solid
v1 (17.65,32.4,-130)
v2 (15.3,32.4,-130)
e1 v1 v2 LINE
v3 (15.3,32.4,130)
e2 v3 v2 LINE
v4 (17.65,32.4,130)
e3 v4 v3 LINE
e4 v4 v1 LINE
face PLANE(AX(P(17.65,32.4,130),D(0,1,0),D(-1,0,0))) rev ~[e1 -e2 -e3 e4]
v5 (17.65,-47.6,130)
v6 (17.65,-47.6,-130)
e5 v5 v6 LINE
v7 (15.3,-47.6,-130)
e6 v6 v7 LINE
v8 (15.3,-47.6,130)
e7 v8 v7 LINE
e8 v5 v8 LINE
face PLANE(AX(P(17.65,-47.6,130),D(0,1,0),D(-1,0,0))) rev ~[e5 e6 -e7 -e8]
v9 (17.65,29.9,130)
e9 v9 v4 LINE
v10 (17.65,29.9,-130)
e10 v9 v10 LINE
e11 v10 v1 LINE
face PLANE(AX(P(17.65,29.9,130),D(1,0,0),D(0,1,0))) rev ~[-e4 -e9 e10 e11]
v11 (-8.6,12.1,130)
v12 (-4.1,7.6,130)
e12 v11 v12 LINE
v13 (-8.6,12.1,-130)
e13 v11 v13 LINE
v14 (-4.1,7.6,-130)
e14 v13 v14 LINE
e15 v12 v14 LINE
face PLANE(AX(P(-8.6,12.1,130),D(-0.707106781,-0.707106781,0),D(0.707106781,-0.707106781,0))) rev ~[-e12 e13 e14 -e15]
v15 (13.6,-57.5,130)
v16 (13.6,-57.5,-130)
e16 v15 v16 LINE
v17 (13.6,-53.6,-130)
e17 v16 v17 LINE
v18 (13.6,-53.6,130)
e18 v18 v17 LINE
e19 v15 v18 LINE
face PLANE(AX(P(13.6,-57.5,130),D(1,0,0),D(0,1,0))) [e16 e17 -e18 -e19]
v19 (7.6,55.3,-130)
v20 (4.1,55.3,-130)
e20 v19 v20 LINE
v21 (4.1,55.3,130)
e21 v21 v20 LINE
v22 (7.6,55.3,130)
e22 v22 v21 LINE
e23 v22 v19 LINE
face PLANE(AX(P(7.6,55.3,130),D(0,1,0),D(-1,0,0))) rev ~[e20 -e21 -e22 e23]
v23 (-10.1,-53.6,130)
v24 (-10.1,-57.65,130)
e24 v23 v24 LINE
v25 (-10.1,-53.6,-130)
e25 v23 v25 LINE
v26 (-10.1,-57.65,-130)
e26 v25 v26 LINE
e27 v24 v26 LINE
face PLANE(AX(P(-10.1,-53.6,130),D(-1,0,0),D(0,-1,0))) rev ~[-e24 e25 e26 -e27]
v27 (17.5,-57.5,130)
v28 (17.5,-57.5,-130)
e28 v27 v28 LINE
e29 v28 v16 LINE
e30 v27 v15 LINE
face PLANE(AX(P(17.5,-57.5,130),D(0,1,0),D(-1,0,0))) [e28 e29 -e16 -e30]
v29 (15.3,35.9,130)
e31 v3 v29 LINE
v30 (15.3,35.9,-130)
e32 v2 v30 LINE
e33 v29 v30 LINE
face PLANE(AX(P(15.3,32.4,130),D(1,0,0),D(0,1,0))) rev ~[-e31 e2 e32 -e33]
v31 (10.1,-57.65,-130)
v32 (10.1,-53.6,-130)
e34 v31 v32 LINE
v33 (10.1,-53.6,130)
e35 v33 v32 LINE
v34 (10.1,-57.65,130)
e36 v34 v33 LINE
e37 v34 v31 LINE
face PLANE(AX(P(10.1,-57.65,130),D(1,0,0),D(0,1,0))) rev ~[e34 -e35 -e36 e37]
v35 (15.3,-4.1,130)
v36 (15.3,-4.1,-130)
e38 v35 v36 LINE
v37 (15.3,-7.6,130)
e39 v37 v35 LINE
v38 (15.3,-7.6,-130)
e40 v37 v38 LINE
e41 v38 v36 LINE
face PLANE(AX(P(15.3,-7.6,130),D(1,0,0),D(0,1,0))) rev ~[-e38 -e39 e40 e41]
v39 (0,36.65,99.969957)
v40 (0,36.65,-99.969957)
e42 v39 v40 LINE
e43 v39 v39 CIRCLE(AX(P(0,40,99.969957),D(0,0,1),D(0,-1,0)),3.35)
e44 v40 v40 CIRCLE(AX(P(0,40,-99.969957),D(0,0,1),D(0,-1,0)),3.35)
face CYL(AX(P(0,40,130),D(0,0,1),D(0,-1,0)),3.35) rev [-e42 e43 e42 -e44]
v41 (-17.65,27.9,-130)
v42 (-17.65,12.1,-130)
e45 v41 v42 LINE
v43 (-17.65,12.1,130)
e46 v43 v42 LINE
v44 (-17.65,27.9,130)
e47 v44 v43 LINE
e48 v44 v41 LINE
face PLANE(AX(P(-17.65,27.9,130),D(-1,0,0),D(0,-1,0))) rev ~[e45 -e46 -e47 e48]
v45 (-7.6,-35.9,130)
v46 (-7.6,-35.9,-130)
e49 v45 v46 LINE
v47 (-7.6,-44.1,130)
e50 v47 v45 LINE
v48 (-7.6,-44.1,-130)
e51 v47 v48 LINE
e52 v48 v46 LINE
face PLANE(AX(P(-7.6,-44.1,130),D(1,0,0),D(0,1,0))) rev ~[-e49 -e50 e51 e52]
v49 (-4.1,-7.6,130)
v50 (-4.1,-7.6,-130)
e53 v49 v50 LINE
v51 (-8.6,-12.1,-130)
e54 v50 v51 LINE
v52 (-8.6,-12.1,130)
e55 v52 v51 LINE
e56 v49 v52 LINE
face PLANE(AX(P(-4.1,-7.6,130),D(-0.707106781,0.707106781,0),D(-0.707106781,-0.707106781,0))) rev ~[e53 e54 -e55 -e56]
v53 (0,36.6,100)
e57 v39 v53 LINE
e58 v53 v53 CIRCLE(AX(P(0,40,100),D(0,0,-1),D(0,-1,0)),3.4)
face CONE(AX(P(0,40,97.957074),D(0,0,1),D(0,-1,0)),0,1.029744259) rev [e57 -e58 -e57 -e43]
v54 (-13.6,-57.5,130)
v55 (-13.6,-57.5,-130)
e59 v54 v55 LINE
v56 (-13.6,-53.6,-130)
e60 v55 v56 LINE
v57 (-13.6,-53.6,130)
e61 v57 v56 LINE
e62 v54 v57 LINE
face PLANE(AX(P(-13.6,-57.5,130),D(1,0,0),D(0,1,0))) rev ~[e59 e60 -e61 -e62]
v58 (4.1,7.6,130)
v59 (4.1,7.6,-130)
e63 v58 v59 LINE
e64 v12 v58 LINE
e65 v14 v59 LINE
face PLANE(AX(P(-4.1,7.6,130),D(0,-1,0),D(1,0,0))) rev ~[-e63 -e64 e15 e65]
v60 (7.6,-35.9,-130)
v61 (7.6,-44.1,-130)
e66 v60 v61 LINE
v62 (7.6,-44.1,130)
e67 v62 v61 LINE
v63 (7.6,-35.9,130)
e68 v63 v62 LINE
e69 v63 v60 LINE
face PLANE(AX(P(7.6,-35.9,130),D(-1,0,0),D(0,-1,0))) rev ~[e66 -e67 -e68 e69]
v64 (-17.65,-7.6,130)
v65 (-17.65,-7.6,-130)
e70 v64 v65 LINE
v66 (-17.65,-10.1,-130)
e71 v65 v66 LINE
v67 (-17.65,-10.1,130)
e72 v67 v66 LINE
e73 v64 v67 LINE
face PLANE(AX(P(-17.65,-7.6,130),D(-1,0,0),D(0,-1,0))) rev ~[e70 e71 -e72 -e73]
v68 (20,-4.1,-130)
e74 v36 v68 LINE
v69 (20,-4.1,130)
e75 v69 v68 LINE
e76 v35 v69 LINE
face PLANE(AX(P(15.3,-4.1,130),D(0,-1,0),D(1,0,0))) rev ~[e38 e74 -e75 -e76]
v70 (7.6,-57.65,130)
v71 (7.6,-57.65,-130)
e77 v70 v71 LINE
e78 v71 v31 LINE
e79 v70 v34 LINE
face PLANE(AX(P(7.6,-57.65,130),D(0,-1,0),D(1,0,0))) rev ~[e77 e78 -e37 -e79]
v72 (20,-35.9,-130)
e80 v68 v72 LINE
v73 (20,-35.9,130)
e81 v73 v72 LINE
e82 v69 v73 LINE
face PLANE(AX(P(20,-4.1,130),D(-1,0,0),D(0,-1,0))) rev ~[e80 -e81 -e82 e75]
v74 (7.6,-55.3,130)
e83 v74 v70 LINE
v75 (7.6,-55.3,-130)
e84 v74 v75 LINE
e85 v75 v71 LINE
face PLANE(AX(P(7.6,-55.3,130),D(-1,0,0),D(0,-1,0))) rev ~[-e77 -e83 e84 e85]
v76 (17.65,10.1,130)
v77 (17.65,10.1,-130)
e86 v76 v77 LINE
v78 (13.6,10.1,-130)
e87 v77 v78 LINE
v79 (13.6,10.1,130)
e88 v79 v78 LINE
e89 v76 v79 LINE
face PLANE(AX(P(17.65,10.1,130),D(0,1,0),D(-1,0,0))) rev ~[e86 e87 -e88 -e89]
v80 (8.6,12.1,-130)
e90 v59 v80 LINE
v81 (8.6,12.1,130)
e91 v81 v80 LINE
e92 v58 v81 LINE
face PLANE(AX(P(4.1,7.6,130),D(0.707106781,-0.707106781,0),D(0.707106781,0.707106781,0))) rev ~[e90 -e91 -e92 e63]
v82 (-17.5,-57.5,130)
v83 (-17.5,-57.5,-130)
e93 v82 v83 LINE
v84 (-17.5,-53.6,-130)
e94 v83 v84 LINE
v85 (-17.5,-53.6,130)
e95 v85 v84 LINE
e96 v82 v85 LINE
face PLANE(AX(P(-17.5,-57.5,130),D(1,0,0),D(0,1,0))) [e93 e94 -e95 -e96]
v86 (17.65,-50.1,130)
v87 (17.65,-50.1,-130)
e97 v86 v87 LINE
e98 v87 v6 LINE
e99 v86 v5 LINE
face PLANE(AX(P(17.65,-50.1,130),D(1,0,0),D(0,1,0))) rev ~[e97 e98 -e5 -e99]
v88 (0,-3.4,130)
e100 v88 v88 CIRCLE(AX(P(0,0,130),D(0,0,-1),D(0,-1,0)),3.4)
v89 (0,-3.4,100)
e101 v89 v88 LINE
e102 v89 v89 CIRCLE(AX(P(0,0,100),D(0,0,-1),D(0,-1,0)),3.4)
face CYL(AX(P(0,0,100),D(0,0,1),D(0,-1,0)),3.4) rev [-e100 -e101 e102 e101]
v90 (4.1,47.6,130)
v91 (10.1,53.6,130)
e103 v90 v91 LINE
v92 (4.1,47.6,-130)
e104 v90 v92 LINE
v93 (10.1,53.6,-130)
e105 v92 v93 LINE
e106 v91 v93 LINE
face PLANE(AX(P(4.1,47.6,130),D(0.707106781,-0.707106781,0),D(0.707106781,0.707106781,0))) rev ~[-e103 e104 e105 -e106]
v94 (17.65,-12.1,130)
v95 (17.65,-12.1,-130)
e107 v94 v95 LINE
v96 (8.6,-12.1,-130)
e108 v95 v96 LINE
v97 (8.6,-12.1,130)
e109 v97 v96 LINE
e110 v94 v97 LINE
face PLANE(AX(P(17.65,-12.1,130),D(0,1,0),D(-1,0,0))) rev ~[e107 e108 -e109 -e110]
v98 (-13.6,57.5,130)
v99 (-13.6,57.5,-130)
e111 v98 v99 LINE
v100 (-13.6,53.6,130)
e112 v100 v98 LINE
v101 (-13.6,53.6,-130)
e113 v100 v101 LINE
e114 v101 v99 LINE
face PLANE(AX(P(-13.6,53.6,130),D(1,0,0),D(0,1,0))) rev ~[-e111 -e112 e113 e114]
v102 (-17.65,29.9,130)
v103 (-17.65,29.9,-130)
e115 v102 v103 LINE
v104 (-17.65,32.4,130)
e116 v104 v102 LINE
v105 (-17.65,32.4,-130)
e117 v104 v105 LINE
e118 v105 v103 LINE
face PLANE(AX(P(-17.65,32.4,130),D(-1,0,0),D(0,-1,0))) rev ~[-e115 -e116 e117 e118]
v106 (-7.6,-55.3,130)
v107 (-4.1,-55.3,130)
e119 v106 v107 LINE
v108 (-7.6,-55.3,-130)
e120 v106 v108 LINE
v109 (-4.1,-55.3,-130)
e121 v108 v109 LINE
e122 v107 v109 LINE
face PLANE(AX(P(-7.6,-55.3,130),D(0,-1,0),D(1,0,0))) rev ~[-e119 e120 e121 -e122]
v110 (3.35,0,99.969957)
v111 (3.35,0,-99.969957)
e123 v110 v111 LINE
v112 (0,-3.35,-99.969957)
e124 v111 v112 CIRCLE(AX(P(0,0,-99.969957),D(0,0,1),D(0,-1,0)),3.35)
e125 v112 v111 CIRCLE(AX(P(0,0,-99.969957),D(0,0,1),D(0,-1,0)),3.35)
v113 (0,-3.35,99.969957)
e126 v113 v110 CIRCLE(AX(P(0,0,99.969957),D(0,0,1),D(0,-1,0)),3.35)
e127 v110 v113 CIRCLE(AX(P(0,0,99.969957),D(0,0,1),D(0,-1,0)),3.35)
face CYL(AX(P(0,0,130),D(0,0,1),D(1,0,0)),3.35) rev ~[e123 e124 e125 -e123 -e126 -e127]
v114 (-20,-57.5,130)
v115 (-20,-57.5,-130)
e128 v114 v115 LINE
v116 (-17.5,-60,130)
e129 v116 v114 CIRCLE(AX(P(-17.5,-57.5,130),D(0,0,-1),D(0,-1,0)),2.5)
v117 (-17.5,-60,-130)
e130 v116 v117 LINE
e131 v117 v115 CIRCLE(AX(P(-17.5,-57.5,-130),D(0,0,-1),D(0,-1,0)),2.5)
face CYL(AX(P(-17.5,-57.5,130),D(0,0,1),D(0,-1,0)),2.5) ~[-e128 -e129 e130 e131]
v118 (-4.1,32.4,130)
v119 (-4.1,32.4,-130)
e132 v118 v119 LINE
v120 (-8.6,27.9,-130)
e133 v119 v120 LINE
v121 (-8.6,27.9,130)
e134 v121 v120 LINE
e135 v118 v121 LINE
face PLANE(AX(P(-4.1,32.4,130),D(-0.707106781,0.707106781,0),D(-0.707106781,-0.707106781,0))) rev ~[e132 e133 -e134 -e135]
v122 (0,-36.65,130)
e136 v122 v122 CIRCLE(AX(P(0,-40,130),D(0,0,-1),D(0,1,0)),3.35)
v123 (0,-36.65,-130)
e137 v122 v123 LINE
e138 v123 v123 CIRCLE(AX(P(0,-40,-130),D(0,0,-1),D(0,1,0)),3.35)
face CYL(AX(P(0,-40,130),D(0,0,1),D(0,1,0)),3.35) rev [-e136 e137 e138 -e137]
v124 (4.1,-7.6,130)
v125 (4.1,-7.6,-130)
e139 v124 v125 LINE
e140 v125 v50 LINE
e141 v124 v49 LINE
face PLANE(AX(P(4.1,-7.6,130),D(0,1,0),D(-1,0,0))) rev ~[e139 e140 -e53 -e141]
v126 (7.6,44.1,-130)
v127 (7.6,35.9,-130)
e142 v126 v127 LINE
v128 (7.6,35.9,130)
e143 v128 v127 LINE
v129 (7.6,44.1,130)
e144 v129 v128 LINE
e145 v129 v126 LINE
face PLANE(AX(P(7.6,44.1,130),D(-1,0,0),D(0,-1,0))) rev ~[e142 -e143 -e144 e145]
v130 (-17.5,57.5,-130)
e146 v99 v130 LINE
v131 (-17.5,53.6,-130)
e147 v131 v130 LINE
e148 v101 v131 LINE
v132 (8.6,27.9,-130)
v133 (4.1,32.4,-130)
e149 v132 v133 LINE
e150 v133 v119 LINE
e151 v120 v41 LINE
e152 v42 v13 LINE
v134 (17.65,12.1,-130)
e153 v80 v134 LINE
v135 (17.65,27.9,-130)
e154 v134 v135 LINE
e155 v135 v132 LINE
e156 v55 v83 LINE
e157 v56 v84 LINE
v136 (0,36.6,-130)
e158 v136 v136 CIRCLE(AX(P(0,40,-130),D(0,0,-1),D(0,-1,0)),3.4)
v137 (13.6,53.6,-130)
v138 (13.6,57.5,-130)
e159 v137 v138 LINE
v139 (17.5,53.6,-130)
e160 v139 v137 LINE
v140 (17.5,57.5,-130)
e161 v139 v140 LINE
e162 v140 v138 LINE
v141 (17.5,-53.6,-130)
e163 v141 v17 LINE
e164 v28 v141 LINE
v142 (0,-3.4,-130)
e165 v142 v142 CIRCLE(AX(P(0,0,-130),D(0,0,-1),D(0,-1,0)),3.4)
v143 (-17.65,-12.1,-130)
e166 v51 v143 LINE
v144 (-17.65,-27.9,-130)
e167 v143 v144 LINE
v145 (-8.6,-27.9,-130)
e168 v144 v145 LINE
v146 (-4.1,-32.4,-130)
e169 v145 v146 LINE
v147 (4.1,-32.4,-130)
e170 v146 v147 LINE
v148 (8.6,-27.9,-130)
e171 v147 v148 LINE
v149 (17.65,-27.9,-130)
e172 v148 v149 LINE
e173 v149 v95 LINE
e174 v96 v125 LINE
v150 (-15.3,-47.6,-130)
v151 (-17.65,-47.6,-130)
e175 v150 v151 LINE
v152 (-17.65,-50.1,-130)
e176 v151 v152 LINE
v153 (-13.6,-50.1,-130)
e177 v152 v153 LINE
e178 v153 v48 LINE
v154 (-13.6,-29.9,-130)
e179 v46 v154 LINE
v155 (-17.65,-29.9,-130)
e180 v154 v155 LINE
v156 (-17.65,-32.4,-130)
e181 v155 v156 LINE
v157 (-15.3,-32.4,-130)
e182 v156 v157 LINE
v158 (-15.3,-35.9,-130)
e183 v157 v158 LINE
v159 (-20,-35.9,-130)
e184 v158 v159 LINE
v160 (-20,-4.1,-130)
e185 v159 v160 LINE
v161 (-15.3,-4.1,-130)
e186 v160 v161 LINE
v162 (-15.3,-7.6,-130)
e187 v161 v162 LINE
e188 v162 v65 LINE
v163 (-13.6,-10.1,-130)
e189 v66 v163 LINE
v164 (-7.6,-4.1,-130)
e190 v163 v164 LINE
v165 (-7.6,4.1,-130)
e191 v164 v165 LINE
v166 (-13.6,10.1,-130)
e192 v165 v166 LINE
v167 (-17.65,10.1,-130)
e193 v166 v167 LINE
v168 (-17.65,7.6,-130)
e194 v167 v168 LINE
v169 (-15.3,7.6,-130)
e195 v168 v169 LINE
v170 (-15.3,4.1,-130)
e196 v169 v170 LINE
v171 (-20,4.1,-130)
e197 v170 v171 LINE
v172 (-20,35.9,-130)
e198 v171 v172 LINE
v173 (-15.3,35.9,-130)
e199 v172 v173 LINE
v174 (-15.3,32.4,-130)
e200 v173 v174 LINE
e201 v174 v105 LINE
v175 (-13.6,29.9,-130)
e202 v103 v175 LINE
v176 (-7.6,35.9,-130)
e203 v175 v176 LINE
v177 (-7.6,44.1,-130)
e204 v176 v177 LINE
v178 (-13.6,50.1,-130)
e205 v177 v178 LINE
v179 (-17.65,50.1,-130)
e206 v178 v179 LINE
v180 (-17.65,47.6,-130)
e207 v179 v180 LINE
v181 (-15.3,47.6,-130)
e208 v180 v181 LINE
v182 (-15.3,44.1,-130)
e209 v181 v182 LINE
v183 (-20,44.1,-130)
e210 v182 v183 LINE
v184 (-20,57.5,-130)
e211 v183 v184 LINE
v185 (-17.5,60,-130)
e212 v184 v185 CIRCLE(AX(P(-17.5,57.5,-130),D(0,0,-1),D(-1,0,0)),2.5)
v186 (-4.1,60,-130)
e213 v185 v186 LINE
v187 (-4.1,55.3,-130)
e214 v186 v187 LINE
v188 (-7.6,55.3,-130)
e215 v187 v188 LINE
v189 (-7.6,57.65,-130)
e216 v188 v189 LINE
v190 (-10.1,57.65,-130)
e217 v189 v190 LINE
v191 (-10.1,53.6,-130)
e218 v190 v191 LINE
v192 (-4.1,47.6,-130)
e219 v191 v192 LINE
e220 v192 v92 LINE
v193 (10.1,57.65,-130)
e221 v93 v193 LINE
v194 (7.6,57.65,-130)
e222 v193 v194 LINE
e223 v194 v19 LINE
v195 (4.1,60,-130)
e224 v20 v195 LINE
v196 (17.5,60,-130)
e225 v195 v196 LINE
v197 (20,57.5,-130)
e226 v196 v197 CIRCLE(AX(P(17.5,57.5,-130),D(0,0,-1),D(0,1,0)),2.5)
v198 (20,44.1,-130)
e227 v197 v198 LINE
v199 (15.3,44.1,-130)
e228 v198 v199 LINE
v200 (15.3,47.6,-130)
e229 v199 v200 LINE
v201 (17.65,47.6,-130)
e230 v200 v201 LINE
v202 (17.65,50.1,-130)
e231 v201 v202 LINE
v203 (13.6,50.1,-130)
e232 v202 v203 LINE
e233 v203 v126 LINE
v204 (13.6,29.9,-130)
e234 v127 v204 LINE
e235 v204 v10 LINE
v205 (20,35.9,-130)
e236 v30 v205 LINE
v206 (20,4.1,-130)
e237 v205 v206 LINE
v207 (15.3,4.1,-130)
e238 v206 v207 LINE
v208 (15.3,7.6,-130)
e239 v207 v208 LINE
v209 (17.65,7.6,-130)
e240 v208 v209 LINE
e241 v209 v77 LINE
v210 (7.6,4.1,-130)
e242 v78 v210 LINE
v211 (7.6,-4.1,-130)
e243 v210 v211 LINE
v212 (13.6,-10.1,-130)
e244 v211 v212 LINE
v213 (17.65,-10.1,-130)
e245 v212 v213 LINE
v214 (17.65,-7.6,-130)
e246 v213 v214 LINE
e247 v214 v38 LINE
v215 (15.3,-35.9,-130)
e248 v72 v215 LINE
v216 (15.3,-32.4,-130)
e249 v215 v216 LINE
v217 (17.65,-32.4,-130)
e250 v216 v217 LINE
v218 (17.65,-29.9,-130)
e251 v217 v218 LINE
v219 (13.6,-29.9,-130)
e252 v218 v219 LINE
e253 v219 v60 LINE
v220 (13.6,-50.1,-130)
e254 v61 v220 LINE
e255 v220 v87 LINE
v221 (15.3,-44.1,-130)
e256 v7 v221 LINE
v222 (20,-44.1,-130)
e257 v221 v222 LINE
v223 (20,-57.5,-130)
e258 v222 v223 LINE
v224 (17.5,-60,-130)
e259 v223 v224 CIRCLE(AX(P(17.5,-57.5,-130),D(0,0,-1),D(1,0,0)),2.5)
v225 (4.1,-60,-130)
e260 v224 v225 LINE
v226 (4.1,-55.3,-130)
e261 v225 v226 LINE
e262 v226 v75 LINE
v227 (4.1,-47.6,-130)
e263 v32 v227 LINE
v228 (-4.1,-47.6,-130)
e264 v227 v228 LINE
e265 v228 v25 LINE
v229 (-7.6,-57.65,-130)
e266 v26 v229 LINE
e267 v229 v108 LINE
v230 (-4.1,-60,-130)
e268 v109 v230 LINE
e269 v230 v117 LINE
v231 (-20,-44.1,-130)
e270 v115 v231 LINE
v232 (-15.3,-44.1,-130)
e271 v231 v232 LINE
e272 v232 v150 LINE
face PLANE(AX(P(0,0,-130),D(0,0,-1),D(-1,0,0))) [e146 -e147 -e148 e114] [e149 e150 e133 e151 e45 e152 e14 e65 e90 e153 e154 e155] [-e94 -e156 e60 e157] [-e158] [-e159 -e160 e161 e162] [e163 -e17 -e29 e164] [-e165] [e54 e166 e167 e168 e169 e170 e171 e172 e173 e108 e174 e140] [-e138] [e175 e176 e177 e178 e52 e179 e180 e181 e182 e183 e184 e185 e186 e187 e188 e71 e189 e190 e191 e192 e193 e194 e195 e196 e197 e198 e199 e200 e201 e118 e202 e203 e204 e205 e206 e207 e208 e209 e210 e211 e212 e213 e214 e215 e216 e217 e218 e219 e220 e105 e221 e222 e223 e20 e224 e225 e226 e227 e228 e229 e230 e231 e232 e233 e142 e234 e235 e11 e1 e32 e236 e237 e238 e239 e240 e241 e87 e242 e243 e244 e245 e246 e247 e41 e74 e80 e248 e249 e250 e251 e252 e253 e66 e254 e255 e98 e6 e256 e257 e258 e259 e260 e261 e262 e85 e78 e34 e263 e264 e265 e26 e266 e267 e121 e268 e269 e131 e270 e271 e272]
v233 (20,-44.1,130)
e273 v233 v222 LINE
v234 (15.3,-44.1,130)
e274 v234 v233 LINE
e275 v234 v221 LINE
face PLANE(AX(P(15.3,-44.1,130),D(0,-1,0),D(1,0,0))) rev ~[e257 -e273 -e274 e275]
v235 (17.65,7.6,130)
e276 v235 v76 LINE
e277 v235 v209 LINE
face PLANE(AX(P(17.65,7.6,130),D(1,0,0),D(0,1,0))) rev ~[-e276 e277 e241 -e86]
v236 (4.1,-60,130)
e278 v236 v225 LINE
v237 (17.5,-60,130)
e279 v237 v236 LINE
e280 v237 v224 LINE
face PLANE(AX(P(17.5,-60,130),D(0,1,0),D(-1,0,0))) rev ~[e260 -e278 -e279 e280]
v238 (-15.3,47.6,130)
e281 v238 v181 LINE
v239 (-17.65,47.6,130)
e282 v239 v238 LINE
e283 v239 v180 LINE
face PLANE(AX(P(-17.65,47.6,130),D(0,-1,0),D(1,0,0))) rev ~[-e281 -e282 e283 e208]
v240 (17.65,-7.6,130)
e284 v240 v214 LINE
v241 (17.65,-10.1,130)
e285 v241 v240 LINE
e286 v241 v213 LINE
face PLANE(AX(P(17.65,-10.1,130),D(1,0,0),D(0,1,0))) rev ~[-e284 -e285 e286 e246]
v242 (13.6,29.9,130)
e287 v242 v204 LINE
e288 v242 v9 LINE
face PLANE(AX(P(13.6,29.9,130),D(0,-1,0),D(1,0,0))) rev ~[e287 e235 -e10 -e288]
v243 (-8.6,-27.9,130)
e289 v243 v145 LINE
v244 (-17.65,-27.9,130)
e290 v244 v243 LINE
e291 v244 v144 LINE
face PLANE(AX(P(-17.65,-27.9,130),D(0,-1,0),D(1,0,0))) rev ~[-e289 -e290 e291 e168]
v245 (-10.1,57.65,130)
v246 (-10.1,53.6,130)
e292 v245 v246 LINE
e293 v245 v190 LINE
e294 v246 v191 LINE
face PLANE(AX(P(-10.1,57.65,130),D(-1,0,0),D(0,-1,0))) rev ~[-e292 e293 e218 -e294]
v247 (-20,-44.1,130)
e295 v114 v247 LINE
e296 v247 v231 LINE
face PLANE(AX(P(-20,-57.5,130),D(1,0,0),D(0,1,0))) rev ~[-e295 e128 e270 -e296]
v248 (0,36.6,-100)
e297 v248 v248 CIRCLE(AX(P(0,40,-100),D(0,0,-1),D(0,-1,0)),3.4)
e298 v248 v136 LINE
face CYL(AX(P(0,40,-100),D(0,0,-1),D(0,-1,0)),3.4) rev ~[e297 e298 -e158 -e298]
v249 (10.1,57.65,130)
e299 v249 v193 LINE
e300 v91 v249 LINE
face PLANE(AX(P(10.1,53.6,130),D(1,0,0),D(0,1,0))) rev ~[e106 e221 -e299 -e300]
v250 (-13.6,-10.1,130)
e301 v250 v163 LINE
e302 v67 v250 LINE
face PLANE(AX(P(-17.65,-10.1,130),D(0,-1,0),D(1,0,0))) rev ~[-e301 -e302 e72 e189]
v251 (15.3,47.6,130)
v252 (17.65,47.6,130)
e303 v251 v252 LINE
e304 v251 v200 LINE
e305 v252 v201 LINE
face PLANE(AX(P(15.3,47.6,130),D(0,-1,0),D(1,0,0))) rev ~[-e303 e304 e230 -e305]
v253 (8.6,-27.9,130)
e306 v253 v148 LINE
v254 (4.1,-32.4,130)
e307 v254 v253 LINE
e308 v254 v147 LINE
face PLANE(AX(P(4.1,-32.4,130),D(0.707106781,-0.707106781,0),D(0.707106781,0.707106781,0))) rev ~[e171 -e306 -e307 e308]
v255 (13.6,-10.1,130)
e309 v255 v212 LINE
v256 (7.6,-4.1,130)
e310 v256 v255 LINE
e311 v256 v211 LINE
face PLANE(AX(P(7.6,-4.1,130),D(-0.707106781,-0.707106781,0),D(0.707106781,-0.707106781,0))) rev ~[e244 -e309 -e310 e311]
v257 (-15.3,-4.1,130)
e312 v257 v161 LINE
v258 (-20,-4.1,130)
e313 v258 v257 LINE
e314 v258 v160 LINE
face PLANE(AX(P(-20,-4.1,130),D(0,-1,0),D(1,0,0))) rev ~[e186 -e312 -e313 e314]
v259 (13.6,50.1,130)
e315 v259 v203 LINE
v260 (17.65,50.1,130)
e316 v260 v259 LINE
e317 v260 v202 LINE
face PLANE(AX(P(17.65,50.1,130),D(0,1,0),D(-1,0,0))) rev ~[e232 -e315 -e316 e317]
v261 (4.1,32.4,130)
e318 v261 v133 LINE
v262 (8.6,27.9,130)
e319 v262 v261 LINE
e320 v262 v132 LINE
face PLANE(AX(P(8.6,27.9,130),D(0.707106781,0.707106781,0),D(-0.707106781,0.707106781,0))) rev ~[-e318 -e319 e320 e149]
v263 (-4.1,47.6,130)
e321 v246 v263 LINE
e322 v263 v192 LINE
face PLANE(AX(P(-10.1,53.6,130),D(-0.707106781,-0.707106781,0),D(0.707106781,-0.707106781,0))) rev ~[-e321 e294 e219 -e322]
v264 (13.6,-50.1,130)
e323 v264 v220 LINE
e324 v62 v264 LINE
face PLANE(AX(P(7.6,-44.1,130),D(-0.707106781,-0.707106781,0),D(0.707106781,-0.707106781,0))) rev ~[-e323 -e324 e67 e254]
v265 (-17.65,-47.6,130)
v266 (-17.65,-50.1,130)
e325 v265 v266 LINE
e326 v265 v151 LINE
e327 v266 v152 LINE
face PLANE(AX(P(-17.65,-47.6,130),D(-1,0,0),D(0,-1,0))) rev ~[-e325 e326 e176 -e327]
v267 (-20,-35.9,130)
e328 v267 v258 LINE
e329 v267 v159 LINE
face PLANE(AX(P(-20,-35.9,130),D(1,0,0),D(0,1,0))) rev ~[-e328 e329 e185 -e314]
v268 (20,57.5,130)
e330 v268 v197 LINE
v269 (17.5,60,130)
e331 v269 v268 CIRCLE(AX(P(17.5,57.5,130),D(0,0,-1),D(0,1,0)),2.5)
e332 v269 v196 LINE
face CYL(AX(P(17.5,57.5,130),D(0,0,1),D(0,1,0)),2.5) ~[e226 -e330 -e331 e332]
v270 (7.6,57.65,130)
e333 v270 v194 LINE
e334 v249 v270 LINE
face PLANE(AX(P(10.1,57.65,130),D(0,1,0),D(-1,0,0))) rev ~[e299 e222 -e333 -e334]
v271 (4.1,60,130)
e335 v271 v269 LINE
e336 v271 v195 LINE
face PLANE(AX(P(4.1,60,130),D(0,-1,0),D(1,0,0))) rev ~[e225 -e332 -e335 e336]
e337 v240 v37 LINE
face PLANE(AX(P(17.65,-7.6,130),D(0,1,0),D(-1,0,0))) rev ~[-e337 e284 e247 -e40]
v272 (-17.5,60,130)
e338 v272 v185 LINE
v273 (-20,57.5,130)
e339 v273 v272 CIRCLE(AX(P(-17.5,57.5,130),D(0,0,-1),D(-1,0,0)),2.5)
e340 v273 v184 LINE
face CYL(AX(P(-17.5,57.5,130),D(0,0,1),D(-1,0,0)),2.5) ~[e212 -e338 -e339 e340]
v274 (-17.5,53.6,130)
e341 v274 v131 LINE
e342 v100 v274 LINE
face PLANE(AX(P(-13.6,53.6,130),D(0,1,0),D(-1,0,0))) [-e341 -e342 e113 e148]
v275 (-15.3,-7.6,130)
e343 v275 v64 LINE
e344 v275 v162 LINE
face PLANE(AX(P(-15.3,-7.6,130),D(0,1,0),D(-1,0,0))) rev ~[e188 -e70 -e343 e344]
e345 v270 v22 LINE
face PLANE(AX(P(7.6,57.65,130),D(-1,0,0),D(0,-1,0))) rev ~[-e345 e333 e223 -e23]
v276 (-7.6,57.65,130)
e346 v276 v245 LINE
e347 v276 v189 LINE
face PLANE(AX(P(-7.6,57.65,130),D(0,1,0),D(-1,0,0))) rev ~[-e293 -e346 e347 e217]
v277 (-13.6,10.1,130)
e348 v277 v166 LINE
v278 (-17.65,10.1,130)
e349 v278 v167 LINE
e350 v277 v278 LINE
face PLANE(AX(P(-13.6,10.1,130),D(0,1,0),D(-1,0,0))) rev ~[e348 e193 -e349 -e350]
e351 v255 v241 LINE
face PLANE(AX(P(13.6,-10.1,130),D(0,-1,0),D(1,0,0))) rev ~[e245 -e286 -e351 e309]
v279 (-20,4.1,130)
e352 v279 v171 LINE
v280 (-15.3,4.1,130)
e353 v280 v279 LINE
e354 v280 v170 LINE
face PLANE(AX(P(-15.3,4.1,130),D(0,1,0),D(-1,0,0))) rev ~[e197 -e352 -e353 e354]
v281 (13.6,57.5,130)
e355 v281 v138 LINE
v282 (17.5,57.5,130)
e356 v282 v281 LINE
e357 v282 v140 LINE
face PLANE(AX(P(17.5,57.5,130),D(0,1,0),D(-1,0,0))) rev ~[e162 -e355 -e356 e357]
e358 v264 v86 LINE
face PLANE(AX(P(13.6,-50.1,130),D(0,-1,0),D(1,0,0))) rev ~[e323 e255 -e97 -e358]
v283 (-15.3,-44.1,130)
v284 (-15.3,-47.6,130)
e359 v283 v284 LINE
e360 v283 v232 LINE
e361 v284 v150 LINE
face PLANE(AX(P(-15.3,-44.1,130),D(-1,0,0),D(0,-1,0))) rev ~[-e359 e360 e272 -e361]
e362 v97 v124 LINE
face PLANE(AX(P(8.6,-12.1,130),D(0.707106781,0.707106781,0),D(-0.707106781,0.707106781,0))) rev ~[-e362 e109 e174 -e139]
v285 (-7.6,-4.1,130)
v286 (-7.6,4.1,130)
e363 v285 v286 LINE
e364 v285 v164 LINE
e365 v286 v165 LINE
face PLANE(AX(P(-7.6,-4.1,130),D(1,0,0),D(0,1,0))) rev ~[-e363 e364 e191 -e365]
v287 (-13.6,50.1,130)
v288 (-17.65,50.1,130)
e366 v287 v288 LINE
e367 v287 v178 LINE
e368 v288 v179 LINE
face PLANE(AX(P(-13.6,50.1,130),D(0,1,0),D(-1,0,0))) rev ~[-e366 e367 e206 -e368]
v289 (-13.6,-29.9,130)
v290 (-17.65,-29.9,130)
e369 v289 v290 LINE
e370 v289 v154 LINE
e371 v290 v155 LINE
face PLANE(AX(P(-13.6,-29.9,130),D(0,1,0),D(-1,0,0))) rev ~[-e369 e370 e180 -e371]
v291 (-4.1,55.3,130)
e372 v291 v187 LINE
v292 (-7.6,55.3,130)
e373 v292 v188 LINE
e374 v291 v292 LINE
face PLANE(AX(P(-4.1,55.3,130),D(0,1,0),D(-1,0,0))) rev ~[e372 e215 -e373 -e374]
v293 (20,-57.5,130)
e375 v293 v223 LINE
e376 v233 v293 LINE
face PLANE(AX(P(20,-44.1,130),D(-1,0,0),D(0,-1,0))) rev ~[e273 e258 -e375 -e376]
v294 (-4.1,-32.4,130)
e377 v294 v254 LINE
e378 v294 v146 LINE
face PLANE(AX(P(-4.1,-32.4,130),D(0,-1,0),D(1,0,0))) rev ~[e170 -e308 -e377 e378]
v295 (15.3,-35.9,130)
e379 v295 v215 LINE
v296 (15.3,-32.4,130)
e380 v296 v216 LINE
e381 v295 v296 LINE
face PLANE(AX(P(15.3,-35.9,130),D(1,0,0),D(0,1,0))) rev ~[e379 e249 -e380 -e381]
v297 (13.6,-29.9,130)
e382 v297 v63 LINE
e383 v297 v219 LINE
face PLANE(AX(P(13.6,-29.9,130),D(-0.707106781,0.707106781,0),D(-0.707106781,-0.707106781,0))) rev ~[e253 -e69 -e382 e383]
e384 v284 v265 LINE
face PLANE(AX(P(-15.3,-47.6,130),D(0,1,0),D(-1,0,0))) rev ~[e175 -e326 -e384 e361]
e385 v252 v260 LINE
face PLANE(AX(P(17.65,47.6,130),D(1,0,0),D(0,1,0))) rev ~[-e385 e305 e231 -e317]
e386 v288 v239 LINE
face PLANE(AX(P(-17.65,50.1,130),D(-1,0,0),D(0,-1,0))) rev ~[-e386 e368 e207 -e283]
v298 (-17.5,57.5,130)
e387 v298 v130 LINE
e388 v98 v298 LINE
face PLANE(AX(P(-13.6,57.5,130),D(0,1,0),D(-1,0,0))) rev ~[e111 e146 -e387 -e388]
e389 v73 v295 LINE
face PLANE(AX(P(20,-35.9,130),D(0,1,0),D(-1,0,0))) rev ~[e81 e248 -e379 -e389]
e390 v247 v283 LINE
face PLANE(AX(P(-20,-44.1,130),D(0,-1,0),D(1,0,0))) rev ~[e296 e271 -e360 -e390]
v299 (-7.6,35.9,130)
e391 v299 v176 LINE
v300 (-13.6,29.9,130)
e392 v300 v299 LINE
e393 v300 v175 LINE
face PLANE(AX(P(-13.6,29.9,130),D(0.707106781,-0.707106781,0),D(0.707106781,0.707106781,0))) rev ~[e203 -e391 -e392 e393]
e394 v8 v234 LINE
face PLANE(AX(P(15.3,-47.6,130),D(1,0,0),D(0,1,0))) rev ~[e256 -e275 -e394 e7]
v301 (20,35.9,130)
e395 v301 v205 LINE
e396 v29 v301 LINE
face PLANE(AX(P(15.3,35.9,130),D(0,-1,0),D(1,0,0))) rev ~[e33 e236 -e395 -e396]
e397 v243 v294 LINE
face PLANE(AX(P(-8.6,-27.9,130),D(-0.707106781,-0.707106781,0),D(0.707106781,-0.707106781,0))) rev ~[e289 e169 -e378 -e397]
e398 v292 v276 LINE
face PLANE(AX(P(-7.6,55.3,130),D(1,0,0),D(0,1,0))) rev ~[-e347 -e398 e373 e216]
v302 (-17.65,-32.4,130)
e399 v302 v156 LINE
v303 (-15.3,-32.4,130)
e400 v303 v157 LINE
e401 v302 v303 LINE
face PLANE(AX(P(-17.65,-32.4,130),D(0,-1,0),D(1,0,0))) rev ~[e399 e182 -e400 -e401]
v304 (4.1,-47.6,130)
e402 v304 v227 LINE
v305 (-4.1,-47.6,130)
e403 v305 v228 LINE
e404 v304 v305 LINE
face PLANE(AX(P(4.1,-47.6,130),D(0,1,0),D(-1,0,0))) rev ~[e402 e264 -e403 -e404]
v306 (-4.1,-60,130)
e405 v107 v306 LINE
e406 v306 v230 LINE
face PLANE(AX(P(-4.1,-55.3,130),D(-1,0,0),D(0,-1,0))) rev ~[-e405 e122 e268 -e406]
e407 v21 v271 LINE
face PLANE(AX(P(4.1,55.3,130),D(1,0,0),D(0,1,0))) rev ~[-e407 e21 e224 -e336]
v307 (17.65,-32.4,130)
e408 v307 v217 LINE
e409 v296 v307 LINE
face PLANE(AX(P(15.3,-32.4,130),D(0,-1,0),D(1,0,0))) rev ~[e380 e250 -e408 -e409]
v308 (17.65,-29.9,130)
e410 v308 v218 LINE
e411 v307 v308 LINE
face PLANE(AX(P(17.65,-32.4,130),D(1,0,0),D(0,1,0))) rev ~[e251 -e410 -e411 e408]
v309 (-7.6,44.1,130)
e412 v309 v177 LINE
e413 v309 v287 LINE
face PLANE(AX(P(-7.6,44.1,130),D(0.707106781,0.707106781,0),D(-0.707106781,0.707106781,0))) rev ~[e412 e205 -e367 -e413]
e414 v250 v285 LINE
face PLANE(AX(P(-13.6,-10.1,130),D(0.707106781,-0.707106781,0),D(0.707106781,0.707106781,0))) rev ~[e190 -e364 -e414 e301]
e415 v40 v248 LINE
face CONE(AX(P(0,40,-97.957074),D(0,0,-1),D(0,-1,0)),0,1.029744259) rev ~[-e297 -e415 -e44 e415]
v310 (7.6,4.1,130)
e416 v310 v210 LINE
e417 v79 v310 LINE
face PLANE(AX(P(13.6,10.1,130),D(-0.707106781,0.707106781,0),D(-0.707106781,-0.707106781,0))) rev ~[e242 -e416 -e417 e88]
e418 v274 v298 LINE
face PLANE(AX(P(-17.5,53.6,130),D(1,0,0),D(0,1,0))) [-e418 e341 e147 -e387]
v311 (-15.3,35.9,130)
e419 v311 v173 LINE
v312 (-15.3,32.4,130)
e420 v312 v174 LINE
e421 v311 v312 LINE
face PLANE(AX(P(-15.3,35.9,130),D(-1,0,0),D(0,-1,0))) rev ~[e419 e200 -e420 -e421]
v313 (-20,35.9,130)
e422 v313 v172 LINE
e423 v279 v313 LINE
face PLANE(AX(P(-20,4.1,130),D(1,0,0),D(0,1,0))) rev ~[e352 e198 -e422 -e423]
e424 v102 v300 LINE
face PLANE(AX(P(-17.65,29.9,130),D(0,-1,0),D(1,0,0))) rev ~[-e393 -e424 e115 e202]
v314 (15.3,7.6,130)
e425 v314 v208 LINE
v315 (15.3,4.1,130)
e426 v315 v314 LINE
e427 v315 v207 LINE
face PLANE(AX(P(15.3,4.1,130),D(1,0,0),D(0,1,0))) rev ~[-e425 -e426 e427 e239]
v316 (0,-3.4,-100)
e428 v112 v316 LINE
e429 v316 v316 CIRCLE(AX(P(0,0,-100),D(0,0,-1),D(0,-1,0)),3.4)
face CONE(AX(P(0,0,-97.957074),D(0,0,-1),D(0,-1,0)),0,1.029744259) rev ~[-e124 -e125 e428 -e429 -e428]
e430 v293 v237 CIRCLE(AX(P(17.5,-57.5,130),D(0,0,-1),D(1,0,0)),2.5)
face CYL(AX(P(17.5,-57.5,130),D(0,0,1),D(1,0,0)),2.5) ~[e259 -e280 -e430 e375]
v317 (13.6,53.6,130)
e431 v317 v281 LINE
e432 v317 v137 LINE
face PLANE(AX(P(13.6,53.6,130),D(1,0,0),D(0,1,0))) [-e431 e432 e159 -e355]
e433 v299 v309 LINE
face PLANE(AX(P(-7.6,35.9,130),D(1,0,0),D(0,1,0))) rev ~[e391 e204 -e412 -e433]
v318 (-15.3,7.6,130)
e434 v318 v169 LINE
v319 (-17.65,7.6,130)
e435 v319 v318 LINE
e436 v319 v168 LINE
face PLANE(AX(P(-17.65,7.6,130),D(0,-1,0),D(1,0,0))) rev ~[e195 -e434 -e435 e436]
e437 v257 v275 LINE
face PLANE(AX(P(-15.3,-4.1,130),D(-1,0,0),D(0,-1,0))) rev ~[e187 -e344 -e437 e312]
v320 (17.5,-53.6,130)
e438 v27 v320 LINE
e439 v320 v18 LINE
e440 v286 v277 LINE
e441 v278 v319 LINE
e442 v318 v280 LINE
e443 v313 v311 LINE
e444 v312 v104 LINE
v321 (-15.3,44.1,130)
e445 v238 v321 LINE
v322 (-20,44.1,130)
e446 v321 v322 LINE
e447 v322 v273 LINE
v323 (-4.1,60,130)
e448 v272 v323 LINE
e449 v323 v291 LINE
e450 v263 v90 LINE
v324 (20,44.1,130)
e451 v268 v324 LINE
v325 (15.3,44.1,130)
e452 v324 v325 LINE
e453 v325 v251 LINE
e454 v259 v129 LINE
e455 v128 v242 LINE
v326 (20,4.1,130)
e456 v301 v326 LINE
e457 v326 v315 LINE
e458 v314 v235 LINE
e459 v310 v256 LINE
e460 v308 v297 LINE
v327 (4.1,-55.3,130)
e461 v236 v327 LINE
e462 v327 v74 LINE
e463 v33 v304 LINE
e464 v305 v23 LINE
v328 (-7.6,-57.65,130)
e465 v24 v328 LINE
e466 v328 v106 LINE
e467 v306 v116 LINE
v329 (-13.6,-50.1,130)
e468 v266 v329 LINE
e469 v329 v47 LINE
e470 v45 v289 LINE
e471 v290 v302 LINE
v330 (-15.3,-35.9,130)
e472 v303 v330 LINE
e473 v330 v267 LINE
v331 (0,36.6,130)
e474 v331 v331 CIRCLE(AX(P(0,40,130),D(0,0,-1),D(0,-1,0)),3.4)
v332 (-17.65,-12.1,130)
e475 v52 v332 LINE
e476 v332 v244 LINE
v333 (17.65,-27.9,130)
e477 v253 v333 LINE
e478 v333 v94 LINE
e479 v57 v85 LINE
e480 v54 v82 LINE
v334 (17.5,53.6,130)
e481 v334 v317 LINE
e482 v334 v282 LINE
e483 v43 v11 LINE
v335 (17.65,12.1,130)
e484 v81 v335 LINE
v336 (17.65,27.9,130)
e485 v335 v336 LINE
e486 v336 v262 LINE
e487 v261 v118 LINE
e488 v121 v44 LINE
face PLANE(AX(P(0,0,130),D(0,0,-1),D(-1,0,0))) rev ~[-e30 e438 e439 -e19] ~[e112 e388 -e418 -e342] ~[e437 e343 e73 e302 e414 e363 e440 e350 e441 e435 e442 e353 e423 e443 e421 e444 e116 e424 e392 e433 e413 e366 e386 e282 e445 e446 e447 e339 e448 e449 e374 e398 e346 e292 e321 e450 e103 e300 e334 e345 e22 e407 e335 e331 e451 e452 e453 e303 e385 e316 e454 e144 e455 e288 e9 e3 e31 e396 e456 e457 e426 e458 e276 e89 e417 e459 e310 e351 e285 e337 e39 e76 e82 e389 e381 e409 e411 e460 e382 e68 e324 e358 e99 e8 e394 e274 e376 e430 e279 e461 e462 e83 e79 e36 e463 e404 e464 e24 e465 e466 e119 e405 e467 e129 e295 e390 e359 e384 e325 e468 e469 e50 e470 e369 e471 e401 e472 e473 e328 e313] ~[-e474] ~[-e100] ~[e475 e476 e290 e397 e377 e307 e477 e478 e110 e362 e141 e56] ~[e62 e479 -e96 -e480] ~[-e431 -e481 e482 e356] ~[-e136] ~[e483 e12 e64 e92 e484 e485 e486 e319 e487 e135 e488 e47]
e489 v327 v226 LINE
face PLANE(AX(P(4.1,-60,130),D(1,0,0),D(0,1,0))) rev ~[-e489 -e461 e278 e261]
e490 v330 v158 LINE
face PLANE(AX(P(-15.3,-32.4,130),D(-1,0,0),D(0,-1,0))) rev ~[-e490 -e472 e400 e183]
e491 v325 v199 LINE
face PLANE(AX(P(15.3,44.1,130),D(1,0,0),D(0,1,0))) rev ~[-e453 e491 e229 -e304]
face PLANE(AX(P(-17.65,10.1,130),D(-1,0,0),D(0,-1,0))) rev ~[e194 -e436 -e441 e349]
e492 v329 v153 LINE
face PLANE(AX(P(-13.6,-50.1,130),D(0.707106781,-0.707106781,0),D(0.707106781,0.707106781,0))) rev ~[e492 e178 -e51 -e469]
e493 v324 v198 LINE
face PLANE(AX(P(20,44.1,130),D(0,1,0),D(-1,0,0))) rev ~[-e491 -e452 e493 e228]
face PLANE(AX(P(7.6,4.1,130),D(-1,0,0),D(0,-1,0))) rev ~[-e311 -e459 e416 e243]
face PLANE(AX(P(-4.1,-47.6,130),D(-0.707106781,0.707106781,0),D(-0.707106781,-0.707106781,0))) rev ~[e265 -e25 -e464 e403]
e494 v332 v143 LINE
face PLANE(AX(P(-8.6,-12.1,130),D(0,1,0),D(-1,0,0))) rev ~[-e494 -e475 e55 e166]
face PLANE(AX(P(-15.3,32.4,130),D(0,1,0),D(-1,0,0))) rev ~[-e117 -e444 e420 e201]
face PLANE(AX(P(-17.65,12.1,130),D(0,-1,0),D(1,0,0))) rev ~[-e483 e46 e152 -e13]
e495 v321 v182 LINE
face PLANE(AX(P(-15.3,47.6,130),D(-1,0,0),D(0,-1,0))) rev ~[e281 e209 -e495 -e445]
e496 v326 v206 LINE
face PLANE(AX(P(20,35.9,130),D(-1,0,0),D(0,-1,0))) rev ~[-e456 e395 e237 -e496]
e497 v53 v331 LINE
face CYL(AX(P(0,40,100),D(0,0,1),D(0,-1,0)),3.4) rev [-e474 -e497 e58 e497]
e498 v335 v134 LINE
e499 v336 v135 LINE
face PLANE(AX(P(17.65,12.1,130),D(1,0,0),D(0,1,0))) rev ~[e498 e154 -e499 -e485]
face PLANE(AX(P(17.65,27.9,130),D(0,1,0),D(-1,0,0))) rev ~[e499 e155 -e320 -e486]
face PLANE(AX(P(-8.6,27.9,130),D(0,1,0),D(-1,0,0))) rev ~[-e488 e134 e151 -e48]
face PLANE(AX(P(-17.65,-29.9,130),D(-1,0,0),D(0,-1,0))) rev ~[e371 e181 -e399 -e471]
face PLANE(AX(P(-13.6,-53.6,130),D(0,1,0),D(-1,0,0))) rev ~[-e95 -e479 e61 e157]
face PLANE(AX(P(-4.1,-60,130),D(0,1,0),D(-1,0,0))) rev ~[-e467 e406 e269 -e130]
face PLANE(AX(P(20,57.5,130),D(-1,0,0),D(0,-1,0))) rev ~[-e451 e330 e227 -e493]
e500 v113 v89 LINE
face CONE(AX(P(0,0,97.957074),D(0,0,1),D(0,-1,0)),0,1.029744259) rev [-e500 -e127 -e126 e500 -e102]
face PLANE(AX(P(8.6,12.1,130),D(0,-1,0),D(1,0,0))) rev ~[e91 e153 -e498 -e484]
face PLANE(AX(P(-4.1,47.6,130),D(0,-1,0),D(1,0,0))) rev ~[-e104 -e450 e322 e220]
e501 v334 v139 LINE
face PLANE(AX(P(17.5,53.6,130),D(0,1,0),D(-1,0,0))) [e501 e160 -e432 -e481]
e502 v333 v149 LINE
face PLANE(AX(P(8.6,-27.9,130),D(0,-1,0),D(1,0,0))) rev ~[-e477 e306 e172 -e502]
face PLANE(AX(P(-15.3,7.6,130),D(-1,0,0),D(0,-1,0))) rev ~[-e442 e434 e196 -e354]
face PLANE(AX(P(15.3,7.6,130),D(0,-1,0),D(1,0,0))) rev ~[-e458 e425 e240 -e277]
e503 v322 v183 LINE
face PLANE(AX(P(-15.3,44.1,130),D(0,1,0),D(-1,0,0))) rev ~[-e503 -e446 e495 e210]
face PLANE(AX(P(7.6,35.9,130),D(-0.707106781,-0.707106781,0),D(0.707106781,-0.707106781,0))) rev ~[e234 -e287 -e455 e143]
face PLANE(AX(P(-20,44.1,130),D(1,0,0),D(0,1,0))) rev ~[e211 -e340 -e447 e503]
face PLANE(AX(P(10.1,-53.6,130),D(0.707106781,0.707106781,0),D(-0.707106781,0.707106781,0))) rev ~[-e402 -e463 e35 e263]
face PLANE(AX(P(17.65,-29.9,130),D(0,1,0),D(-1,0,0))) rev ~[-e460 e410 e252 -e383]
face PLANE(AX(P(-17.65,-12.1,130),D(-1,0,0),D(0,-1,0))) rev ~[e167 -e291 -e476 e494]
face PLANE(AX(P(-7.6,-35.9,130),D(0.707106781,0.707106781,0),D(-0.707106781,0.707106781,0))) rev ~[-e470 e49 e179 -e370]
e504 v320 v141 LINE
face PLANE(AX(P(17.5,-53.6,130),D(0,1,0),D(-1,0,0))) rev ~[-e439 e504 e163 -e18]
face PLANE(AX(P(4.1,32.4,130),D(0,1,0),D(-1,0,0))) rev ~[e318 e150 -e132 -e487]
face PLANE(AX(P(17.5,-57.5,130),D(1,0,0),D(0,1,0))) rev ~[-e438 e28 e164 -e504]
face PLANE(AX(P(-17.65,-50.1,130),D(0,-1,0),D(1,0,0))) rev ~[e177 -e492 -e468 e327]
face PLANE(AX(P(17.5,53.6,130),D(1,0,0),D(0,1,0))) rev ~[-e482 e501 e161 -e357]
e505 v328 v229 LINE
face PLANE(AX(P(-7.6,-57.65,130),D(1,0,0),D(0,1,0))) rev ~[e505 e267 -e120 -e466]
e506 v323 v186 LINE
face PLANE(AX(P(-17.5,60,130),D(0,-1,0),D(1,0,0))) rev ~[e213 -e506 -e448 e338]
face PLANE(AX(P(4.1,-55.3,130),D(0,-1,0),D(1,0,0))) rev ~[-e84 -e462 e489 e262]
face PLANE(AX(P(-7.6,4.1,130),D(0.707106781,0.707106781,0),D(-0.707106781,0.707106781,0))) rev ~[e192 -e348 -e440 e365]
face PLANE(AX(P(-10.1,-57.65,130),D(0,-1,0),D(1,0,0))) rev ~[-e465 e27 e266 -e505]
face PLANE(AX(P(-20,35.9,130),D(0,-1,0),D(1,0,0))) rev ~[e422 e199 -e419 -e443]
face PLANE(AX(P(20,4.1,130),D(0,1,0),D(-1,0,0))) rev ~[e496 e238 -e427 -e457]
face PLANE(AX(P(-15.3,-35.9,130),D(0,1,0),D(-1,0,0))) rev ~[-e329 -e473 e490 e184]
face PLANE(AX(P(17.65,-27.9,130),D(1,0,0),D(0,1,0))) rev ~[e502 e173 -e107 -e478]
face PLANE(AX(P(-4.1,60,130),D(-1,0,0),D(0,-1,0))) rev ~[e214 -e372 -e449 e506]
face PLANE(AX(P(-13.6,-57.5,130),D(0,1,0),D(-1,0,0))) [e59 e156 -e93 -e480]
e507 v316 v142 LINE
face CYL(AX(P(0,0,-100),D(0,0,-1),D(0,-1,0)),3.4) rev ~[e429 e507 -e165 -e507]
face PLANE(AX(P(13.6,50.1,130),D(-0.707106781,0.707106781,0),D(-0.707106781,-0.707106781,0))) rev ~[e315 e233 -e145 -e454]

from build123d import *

# Parameters (mm, degrees)
SKETCH22_W                      = 3.9
SKETCH22_H                      = 3.9
F_40_SERIES_TS40_120LM_1_DEPTH  = 260
M8X1_25_TAPPED_HOLE1_AT_2_COUNT = 2
M8X1_25_TAPPED_HOLE1_AT_2_PITCH = 40


with BuildPart() as part:
    # Sketch22 → 40 series TS40-120LM(1) (new body)
    with BuildSketch(Plane(origin=(0, 0, 130), x_dir=(-1, 0, 0), z_dir=(0, 0, -1))):
        with BuildLine():
            Line((15.3, -35.9), (20, -35.9))
            Line((20, -35.9), (20, -4.1))
            Line((20, -4.1), (15.3, -4.1))
            Line((15.3, -4.1), (15.3, -7.6))
            Line((15.3, -7.6), (17.65, -7.6))
            Line((17.65, -7.6), (17.65, -10.1))
            Line((17.65, -10.1), (13.6, -10.1))
            Line((13.6, -10.1), (7.6, -4.1))
            Line((7.6, -4.1), (7.6, 4.1))
            Line((7.6, 4.1), (13.6, 10.1))
            Line((13.6, 10.1), (17.65, 10.1))
            Line((17.65, 10.1), (17.65, 7.6))
            Line((17.65, 7.6), (15.3, 7.6))
            Line((15.3, 7.6), (15.3, 4.1))
            Line((15.3, 4.1), (20, 4.1))
            Line((20, 4.1), (20, 35.9))
            Line((20, 35.9), (15.3, 35.9))
            Line((15.3, 35.9), (15.3, 32.4))
            Line((15.3, 32.4), (17.65, 32.4))
            Line((17.65, 32.4), (17.65, 29.9))
            Line((17.65, 29.9), (13.6, 29.9))
            Line((13.6, 29.9), (7.6, 35.9))
            Line((7.6, 35.9), (7.6, 44.1))
            Line((7.6, 44.1), (13.6, 50.1))
            Line((13.6, 50.1), (17.65, 50.1))
            Line((17.65, 50.1), (17.65, 47.6))
            Line((17.65, 47.6), (15.3, 47.6))
            Line((15.3, 47.6), (15.3, 44.1))
            Line((15.3, 44.1), (20, 44.1))
            Line((20, 44.1), (20, 57.5))
            ThreePointArc((20, 57.5), (19.267766953, 59.267766953), (17.5, 60))
            Line((17.5, 60), (4.1, 60))
            Line((4.1, 60), (4.1, 55.3))
            Line((4.1, 55.3), (7.6, 55.3))
            Line((7.6, 55.3), (7.6, 57.65))
            Line((7.6, 57.65), (10.1, 57.65))
            Line((10.1, 57.65), (10.1, 53.6))
            Line((10.1, 53.6), (4.1, 47.6))
            Line((4.1, 47.6), (-4.1, 47.6))
            Line((-4.1, 47.6), (-10.1, 53.6))
            Line((-10.1, 53.6), (-10.1, 57.65))
            Line((-10.1, 57.65), (-7.6, 57.65))
            Line((-7.6, 57.65), (-7.6, 55.3))
            Line((-7.6, 55.3), (-4.1, 55.3))
            Line((-4.1, 55.3), (-4.1, 60))
            Line((-4.1, 60), (-17.5, 60))
            ThreePointArc((-17.5, 60), (-19.267766953, 59.267766953), (-20, 57.5))
            Line((-20, 57.5), (-20, 44.1))
            Line((-20, 44.1), (-15.3, 44.1))
            Line((-15.3, 44.1), (-15.3, 47.6))
            Line((-15.3, 47.6), (-17.65, 47.6))
            Line((-17.65, 47.6), (-17.65, 50.1))
            Line((-17.65, 50.1), (-13.6, 50.1))
            Line((-13.6, 50.1), (-7.6, 44.1))
            Line((-7.6, 44.1), (-7.6, 35.9))
            Line((-7.6, 35.9), (-13.6, 29.9))
            Line((-13.6, 29.9), (-17.65, 29.9))
            Line((-17.65, 29.9), (-17.65, 32.4))
            Line((-17.65, 32.4), (-15.3, 32.4))
            Line((-15.3, 32.4), (-15.3, 35.9))
            Line((-15.3, 35.9), (-20, 35.9))
            Line((-20, 35.9), (-20, 4.1))
            Line((-20, 4.1), (-15.3, 4.1))
            Line((-15.3, 4.1), (-15.3, 7.6))
            Line((-15.3, 7.6), (-17.65, 7.6))
            Line((-17.65, 7.6), (-17.65, 10.1))
            Line((-17.65, 10.1), (-13.6, 10.1))
            Line((-13.6, 10.1), (-7.6, 4.1))
            Line((-7.6, 4.1), (-7.6, -4.1))
            Line((-7.6, -4.1), (-13.6, -10.1))
            Line((-13.6, -10.1), (-17.65, -10.1))
            Line((-17.65, -10.1), (-17.65, -7.6))
            Line((-17.65, -7.6), (-15.3, -7.6))
            Line((-15.3, -7.6), (-15.3, -4.1))
            Line((-15.3, -4.1), (-20, -4.1))
            Line((-20, -4.1), (-20, -35.9))
            Line((-20, -35.9), (-15.3, -35.9))
            Line((-15.3, -35.9), (-15.3, -32.4))
            Line((-15.3, -32.4), (-17.65, -32.4))
            Line((-17.65, -32.4), (-17.65, -29.9))
            Line((-17.65, -29.9), (-13.6, -29.9))
            Line((-13.6, -29.9), (-7.6, -35.9))
            Line((-7.6, -35.9), (-7.6, -44.1))
            Line((-7.6, -44.1), (-13.6, -50.1))
            Line((-13.6, -50.1), (-17.65, -50.1))
            Line((-17.65, -50.1), (-17.65, -47.6))
            Line((-17.65, -47.6), (-15.3, -47.6))
            Line((-15.3, -47.6), (-15.3, -44.1))
            Line((-15.3, -44.1), (-20, -44.1))
            Line((-20, -44.1), (-20, -57.5))
            ThreePointArc((-20, -57.5), (-19.267766953, -59.267766953), (-17.5, -60))
            Line((-17.5, -60), (-4.1, -60))
            Line((-4.1, -60), (-4.1, -55.3))
            Line((-4.1, -55.3), (-7.6, -55.3))
            Line((-7.6, -55.3), (-7.6, -57.65))
            Line((-7.6, -57.65), (-10.1, -57.65))
            Line((-10.1, -57.65), (-10.1, -53.6))
            Line((-10.1, -53.6), (-4.1, -47.6))
            Line((-4.1, -47.6), (4.1, -47.6))
            Line((4.1, -47.6), (10.1, -53.6))
            Line((10.1, -53.6), (10.1, -57.65))
            Line((10.1, -57.65), (7.6, -57.65))
            Line((7.6, -57.65), (7.6, -55.3))
            Line((7.6, -55.3), (4.1, -55.3))
            Line((4.1, -55.3), (4.1, -60))
            Line((4.1, -60), (17.5, -60))
            ThreePointArc((17.5, -60), (19.267766953, -59.267766953), (20, -57.5))
            Line((20, -57.5), (20, -44.1))
            Line((20, -44.1), (15.3, -44.1))
            Line((15.3, -44.1), (15.3, -47.6))
            Line((15.3, -47.6), (17.65, -47.6))
            Line((17.65, -47.6), (17.65, -50.1))
            Line((17.65, -50.1), (13.6, -50.1))
            Line((13.6, -50.1), (7.6, -44.1))
            Line((7.6, -44.1), (7.6, -35.9))
            Line((7.6, -35.9), (13.6, -29.9))
            Line((13.6, -29.9), (17.65, -29.9))
            Line((17.65, -29.9), (17.65, -32.4))
            Line((17.65, -32.4), (15.3, -32.4))
            Line((15.3, -32.4), (15.3, -35.9))
        make_face()
        Polygon((-4.1, -7.6), (4.1, -7.6), (8.6, -12.1), (17.65, -12.1), (17.65, -27.9), (8.6, -27.9), (4.1, -32.4), (-4.1, -32.4), (-8.6, -27.9), (-17.65, -27.9), (-17.65, -12.1), (-8.6, -12.1), align=None, mode=Mode.SUBTRACT)
        Polygon((-4.1, 7.6), (-8.6, 12.1), (-17.65, 12.1), (-17.65, 27.9), (-8.6, 27.9), (-4.1, 32.4), (4.1, 32.4), (8.6, 27.9), (17.65, 27.9), (17.65, 12.1), (8.6, 12.1), (4.1, 7.6), align=None, mode=Mode.SUBTRACT)
        with Locations((15.55, -55.55)):
            Rectangle(SKETCH22_W, SKETCH22_H, mode=Mode.SUBTRACT)
        with Locations((-15.55, -55.55)):
            Rectangle(SKETCH22_W, SKETCH22_H, mode=Mode.SUBTRACT)
        with Locations((-15.55, 55.55)):
            Rectangle(SKETCH22_W, SKETCH22_H, mode=Mode.SUBTRACT)
        with Locations((15.55, 55.55)):
            Rectangle(SKETCH22_W, SKETCH22_H, mode=Mode.SUBTRACT)
        with BuildLine():
            ThreePointArc((0, -43.35), (3.35, -40), (0, -36.65))
            ThreePointArc((0, -36.65), (-3.35, -40), (0, -43.35))
        make_face(mode=Mode.SUBTRACT)
        with BuildLine():
            ThreePointArc((3.35, 0), (0, -3.35), (-3.35, 0))
            ThreePointArc((-3.35, 0), (0, 3.35), (3.35, 0))
        make_face(mode=Mode.SUBTRACT)
        with BuildLine():
            ThreePointArc((0, 43.35), (-3.35, 40), (0, 36.65))
            ThreePointArc((0, 36.65), (3.35, 40), (0, 43.35))
        make_face(mode=Mode.SUBTRACT)
    extrude(amount=F_40_SERIES_TS40_120LM_1_DEPTH)

    # Sketch4 → M8x1.25 Tapped Hole1 (revolve, cut)
    with BuildSketch(Plane(origin=(0, 0, 130), x_dir=(0, -1, 0), z_dir=(1, 0, 0))):
        Polygon((0, 0), (0, 32.042926105), (3.4, 30), (3.4, 0), align=None)
    m8x1_25_tapped_hole1 = revolve(axis=Axis((0, 0, 136.35), (0, 0, -1)), mode=Mode.SUBTRACT)

    # M8x1.25 Tapped Hole1 at 2: M8x1.25 Tapped Hole1 ×2
    with Locations(*[(0, i * M8X1_25_TAPPED_HOLE1_AT_2_PITCH, 0) for i in range(1, M8X1_25_TAPPED_HOLE1_AT_2_COUNT)]):
        add(m8x1_25_tapped_hole1, mode=Mode.SUBTRACT)

    # Mirror1: M8x1.25 Tapped Hole1 across plane
    add(m8x1_25_tapped_hole1.mirror(Plane.XY), mode=Mode.SUBTRACT)

    # Mirror1 copy 1 sketch → Mirror1 copy 1 (revolve, cut)
    with BuildSketch(Plane(origin=(0, 40, -130), x_dir=(0, -1, 0), z_dir=(1, 0, 0))):
        Polygon((0, 0), (0, -32.042926105), (3.4, -30), (3.4, 0), align=None)
    revolve(axis=Axis((0, 40, -136.35), (0, 0, -1)), mode=Mode.SUBTRACT)


solid = part.part
